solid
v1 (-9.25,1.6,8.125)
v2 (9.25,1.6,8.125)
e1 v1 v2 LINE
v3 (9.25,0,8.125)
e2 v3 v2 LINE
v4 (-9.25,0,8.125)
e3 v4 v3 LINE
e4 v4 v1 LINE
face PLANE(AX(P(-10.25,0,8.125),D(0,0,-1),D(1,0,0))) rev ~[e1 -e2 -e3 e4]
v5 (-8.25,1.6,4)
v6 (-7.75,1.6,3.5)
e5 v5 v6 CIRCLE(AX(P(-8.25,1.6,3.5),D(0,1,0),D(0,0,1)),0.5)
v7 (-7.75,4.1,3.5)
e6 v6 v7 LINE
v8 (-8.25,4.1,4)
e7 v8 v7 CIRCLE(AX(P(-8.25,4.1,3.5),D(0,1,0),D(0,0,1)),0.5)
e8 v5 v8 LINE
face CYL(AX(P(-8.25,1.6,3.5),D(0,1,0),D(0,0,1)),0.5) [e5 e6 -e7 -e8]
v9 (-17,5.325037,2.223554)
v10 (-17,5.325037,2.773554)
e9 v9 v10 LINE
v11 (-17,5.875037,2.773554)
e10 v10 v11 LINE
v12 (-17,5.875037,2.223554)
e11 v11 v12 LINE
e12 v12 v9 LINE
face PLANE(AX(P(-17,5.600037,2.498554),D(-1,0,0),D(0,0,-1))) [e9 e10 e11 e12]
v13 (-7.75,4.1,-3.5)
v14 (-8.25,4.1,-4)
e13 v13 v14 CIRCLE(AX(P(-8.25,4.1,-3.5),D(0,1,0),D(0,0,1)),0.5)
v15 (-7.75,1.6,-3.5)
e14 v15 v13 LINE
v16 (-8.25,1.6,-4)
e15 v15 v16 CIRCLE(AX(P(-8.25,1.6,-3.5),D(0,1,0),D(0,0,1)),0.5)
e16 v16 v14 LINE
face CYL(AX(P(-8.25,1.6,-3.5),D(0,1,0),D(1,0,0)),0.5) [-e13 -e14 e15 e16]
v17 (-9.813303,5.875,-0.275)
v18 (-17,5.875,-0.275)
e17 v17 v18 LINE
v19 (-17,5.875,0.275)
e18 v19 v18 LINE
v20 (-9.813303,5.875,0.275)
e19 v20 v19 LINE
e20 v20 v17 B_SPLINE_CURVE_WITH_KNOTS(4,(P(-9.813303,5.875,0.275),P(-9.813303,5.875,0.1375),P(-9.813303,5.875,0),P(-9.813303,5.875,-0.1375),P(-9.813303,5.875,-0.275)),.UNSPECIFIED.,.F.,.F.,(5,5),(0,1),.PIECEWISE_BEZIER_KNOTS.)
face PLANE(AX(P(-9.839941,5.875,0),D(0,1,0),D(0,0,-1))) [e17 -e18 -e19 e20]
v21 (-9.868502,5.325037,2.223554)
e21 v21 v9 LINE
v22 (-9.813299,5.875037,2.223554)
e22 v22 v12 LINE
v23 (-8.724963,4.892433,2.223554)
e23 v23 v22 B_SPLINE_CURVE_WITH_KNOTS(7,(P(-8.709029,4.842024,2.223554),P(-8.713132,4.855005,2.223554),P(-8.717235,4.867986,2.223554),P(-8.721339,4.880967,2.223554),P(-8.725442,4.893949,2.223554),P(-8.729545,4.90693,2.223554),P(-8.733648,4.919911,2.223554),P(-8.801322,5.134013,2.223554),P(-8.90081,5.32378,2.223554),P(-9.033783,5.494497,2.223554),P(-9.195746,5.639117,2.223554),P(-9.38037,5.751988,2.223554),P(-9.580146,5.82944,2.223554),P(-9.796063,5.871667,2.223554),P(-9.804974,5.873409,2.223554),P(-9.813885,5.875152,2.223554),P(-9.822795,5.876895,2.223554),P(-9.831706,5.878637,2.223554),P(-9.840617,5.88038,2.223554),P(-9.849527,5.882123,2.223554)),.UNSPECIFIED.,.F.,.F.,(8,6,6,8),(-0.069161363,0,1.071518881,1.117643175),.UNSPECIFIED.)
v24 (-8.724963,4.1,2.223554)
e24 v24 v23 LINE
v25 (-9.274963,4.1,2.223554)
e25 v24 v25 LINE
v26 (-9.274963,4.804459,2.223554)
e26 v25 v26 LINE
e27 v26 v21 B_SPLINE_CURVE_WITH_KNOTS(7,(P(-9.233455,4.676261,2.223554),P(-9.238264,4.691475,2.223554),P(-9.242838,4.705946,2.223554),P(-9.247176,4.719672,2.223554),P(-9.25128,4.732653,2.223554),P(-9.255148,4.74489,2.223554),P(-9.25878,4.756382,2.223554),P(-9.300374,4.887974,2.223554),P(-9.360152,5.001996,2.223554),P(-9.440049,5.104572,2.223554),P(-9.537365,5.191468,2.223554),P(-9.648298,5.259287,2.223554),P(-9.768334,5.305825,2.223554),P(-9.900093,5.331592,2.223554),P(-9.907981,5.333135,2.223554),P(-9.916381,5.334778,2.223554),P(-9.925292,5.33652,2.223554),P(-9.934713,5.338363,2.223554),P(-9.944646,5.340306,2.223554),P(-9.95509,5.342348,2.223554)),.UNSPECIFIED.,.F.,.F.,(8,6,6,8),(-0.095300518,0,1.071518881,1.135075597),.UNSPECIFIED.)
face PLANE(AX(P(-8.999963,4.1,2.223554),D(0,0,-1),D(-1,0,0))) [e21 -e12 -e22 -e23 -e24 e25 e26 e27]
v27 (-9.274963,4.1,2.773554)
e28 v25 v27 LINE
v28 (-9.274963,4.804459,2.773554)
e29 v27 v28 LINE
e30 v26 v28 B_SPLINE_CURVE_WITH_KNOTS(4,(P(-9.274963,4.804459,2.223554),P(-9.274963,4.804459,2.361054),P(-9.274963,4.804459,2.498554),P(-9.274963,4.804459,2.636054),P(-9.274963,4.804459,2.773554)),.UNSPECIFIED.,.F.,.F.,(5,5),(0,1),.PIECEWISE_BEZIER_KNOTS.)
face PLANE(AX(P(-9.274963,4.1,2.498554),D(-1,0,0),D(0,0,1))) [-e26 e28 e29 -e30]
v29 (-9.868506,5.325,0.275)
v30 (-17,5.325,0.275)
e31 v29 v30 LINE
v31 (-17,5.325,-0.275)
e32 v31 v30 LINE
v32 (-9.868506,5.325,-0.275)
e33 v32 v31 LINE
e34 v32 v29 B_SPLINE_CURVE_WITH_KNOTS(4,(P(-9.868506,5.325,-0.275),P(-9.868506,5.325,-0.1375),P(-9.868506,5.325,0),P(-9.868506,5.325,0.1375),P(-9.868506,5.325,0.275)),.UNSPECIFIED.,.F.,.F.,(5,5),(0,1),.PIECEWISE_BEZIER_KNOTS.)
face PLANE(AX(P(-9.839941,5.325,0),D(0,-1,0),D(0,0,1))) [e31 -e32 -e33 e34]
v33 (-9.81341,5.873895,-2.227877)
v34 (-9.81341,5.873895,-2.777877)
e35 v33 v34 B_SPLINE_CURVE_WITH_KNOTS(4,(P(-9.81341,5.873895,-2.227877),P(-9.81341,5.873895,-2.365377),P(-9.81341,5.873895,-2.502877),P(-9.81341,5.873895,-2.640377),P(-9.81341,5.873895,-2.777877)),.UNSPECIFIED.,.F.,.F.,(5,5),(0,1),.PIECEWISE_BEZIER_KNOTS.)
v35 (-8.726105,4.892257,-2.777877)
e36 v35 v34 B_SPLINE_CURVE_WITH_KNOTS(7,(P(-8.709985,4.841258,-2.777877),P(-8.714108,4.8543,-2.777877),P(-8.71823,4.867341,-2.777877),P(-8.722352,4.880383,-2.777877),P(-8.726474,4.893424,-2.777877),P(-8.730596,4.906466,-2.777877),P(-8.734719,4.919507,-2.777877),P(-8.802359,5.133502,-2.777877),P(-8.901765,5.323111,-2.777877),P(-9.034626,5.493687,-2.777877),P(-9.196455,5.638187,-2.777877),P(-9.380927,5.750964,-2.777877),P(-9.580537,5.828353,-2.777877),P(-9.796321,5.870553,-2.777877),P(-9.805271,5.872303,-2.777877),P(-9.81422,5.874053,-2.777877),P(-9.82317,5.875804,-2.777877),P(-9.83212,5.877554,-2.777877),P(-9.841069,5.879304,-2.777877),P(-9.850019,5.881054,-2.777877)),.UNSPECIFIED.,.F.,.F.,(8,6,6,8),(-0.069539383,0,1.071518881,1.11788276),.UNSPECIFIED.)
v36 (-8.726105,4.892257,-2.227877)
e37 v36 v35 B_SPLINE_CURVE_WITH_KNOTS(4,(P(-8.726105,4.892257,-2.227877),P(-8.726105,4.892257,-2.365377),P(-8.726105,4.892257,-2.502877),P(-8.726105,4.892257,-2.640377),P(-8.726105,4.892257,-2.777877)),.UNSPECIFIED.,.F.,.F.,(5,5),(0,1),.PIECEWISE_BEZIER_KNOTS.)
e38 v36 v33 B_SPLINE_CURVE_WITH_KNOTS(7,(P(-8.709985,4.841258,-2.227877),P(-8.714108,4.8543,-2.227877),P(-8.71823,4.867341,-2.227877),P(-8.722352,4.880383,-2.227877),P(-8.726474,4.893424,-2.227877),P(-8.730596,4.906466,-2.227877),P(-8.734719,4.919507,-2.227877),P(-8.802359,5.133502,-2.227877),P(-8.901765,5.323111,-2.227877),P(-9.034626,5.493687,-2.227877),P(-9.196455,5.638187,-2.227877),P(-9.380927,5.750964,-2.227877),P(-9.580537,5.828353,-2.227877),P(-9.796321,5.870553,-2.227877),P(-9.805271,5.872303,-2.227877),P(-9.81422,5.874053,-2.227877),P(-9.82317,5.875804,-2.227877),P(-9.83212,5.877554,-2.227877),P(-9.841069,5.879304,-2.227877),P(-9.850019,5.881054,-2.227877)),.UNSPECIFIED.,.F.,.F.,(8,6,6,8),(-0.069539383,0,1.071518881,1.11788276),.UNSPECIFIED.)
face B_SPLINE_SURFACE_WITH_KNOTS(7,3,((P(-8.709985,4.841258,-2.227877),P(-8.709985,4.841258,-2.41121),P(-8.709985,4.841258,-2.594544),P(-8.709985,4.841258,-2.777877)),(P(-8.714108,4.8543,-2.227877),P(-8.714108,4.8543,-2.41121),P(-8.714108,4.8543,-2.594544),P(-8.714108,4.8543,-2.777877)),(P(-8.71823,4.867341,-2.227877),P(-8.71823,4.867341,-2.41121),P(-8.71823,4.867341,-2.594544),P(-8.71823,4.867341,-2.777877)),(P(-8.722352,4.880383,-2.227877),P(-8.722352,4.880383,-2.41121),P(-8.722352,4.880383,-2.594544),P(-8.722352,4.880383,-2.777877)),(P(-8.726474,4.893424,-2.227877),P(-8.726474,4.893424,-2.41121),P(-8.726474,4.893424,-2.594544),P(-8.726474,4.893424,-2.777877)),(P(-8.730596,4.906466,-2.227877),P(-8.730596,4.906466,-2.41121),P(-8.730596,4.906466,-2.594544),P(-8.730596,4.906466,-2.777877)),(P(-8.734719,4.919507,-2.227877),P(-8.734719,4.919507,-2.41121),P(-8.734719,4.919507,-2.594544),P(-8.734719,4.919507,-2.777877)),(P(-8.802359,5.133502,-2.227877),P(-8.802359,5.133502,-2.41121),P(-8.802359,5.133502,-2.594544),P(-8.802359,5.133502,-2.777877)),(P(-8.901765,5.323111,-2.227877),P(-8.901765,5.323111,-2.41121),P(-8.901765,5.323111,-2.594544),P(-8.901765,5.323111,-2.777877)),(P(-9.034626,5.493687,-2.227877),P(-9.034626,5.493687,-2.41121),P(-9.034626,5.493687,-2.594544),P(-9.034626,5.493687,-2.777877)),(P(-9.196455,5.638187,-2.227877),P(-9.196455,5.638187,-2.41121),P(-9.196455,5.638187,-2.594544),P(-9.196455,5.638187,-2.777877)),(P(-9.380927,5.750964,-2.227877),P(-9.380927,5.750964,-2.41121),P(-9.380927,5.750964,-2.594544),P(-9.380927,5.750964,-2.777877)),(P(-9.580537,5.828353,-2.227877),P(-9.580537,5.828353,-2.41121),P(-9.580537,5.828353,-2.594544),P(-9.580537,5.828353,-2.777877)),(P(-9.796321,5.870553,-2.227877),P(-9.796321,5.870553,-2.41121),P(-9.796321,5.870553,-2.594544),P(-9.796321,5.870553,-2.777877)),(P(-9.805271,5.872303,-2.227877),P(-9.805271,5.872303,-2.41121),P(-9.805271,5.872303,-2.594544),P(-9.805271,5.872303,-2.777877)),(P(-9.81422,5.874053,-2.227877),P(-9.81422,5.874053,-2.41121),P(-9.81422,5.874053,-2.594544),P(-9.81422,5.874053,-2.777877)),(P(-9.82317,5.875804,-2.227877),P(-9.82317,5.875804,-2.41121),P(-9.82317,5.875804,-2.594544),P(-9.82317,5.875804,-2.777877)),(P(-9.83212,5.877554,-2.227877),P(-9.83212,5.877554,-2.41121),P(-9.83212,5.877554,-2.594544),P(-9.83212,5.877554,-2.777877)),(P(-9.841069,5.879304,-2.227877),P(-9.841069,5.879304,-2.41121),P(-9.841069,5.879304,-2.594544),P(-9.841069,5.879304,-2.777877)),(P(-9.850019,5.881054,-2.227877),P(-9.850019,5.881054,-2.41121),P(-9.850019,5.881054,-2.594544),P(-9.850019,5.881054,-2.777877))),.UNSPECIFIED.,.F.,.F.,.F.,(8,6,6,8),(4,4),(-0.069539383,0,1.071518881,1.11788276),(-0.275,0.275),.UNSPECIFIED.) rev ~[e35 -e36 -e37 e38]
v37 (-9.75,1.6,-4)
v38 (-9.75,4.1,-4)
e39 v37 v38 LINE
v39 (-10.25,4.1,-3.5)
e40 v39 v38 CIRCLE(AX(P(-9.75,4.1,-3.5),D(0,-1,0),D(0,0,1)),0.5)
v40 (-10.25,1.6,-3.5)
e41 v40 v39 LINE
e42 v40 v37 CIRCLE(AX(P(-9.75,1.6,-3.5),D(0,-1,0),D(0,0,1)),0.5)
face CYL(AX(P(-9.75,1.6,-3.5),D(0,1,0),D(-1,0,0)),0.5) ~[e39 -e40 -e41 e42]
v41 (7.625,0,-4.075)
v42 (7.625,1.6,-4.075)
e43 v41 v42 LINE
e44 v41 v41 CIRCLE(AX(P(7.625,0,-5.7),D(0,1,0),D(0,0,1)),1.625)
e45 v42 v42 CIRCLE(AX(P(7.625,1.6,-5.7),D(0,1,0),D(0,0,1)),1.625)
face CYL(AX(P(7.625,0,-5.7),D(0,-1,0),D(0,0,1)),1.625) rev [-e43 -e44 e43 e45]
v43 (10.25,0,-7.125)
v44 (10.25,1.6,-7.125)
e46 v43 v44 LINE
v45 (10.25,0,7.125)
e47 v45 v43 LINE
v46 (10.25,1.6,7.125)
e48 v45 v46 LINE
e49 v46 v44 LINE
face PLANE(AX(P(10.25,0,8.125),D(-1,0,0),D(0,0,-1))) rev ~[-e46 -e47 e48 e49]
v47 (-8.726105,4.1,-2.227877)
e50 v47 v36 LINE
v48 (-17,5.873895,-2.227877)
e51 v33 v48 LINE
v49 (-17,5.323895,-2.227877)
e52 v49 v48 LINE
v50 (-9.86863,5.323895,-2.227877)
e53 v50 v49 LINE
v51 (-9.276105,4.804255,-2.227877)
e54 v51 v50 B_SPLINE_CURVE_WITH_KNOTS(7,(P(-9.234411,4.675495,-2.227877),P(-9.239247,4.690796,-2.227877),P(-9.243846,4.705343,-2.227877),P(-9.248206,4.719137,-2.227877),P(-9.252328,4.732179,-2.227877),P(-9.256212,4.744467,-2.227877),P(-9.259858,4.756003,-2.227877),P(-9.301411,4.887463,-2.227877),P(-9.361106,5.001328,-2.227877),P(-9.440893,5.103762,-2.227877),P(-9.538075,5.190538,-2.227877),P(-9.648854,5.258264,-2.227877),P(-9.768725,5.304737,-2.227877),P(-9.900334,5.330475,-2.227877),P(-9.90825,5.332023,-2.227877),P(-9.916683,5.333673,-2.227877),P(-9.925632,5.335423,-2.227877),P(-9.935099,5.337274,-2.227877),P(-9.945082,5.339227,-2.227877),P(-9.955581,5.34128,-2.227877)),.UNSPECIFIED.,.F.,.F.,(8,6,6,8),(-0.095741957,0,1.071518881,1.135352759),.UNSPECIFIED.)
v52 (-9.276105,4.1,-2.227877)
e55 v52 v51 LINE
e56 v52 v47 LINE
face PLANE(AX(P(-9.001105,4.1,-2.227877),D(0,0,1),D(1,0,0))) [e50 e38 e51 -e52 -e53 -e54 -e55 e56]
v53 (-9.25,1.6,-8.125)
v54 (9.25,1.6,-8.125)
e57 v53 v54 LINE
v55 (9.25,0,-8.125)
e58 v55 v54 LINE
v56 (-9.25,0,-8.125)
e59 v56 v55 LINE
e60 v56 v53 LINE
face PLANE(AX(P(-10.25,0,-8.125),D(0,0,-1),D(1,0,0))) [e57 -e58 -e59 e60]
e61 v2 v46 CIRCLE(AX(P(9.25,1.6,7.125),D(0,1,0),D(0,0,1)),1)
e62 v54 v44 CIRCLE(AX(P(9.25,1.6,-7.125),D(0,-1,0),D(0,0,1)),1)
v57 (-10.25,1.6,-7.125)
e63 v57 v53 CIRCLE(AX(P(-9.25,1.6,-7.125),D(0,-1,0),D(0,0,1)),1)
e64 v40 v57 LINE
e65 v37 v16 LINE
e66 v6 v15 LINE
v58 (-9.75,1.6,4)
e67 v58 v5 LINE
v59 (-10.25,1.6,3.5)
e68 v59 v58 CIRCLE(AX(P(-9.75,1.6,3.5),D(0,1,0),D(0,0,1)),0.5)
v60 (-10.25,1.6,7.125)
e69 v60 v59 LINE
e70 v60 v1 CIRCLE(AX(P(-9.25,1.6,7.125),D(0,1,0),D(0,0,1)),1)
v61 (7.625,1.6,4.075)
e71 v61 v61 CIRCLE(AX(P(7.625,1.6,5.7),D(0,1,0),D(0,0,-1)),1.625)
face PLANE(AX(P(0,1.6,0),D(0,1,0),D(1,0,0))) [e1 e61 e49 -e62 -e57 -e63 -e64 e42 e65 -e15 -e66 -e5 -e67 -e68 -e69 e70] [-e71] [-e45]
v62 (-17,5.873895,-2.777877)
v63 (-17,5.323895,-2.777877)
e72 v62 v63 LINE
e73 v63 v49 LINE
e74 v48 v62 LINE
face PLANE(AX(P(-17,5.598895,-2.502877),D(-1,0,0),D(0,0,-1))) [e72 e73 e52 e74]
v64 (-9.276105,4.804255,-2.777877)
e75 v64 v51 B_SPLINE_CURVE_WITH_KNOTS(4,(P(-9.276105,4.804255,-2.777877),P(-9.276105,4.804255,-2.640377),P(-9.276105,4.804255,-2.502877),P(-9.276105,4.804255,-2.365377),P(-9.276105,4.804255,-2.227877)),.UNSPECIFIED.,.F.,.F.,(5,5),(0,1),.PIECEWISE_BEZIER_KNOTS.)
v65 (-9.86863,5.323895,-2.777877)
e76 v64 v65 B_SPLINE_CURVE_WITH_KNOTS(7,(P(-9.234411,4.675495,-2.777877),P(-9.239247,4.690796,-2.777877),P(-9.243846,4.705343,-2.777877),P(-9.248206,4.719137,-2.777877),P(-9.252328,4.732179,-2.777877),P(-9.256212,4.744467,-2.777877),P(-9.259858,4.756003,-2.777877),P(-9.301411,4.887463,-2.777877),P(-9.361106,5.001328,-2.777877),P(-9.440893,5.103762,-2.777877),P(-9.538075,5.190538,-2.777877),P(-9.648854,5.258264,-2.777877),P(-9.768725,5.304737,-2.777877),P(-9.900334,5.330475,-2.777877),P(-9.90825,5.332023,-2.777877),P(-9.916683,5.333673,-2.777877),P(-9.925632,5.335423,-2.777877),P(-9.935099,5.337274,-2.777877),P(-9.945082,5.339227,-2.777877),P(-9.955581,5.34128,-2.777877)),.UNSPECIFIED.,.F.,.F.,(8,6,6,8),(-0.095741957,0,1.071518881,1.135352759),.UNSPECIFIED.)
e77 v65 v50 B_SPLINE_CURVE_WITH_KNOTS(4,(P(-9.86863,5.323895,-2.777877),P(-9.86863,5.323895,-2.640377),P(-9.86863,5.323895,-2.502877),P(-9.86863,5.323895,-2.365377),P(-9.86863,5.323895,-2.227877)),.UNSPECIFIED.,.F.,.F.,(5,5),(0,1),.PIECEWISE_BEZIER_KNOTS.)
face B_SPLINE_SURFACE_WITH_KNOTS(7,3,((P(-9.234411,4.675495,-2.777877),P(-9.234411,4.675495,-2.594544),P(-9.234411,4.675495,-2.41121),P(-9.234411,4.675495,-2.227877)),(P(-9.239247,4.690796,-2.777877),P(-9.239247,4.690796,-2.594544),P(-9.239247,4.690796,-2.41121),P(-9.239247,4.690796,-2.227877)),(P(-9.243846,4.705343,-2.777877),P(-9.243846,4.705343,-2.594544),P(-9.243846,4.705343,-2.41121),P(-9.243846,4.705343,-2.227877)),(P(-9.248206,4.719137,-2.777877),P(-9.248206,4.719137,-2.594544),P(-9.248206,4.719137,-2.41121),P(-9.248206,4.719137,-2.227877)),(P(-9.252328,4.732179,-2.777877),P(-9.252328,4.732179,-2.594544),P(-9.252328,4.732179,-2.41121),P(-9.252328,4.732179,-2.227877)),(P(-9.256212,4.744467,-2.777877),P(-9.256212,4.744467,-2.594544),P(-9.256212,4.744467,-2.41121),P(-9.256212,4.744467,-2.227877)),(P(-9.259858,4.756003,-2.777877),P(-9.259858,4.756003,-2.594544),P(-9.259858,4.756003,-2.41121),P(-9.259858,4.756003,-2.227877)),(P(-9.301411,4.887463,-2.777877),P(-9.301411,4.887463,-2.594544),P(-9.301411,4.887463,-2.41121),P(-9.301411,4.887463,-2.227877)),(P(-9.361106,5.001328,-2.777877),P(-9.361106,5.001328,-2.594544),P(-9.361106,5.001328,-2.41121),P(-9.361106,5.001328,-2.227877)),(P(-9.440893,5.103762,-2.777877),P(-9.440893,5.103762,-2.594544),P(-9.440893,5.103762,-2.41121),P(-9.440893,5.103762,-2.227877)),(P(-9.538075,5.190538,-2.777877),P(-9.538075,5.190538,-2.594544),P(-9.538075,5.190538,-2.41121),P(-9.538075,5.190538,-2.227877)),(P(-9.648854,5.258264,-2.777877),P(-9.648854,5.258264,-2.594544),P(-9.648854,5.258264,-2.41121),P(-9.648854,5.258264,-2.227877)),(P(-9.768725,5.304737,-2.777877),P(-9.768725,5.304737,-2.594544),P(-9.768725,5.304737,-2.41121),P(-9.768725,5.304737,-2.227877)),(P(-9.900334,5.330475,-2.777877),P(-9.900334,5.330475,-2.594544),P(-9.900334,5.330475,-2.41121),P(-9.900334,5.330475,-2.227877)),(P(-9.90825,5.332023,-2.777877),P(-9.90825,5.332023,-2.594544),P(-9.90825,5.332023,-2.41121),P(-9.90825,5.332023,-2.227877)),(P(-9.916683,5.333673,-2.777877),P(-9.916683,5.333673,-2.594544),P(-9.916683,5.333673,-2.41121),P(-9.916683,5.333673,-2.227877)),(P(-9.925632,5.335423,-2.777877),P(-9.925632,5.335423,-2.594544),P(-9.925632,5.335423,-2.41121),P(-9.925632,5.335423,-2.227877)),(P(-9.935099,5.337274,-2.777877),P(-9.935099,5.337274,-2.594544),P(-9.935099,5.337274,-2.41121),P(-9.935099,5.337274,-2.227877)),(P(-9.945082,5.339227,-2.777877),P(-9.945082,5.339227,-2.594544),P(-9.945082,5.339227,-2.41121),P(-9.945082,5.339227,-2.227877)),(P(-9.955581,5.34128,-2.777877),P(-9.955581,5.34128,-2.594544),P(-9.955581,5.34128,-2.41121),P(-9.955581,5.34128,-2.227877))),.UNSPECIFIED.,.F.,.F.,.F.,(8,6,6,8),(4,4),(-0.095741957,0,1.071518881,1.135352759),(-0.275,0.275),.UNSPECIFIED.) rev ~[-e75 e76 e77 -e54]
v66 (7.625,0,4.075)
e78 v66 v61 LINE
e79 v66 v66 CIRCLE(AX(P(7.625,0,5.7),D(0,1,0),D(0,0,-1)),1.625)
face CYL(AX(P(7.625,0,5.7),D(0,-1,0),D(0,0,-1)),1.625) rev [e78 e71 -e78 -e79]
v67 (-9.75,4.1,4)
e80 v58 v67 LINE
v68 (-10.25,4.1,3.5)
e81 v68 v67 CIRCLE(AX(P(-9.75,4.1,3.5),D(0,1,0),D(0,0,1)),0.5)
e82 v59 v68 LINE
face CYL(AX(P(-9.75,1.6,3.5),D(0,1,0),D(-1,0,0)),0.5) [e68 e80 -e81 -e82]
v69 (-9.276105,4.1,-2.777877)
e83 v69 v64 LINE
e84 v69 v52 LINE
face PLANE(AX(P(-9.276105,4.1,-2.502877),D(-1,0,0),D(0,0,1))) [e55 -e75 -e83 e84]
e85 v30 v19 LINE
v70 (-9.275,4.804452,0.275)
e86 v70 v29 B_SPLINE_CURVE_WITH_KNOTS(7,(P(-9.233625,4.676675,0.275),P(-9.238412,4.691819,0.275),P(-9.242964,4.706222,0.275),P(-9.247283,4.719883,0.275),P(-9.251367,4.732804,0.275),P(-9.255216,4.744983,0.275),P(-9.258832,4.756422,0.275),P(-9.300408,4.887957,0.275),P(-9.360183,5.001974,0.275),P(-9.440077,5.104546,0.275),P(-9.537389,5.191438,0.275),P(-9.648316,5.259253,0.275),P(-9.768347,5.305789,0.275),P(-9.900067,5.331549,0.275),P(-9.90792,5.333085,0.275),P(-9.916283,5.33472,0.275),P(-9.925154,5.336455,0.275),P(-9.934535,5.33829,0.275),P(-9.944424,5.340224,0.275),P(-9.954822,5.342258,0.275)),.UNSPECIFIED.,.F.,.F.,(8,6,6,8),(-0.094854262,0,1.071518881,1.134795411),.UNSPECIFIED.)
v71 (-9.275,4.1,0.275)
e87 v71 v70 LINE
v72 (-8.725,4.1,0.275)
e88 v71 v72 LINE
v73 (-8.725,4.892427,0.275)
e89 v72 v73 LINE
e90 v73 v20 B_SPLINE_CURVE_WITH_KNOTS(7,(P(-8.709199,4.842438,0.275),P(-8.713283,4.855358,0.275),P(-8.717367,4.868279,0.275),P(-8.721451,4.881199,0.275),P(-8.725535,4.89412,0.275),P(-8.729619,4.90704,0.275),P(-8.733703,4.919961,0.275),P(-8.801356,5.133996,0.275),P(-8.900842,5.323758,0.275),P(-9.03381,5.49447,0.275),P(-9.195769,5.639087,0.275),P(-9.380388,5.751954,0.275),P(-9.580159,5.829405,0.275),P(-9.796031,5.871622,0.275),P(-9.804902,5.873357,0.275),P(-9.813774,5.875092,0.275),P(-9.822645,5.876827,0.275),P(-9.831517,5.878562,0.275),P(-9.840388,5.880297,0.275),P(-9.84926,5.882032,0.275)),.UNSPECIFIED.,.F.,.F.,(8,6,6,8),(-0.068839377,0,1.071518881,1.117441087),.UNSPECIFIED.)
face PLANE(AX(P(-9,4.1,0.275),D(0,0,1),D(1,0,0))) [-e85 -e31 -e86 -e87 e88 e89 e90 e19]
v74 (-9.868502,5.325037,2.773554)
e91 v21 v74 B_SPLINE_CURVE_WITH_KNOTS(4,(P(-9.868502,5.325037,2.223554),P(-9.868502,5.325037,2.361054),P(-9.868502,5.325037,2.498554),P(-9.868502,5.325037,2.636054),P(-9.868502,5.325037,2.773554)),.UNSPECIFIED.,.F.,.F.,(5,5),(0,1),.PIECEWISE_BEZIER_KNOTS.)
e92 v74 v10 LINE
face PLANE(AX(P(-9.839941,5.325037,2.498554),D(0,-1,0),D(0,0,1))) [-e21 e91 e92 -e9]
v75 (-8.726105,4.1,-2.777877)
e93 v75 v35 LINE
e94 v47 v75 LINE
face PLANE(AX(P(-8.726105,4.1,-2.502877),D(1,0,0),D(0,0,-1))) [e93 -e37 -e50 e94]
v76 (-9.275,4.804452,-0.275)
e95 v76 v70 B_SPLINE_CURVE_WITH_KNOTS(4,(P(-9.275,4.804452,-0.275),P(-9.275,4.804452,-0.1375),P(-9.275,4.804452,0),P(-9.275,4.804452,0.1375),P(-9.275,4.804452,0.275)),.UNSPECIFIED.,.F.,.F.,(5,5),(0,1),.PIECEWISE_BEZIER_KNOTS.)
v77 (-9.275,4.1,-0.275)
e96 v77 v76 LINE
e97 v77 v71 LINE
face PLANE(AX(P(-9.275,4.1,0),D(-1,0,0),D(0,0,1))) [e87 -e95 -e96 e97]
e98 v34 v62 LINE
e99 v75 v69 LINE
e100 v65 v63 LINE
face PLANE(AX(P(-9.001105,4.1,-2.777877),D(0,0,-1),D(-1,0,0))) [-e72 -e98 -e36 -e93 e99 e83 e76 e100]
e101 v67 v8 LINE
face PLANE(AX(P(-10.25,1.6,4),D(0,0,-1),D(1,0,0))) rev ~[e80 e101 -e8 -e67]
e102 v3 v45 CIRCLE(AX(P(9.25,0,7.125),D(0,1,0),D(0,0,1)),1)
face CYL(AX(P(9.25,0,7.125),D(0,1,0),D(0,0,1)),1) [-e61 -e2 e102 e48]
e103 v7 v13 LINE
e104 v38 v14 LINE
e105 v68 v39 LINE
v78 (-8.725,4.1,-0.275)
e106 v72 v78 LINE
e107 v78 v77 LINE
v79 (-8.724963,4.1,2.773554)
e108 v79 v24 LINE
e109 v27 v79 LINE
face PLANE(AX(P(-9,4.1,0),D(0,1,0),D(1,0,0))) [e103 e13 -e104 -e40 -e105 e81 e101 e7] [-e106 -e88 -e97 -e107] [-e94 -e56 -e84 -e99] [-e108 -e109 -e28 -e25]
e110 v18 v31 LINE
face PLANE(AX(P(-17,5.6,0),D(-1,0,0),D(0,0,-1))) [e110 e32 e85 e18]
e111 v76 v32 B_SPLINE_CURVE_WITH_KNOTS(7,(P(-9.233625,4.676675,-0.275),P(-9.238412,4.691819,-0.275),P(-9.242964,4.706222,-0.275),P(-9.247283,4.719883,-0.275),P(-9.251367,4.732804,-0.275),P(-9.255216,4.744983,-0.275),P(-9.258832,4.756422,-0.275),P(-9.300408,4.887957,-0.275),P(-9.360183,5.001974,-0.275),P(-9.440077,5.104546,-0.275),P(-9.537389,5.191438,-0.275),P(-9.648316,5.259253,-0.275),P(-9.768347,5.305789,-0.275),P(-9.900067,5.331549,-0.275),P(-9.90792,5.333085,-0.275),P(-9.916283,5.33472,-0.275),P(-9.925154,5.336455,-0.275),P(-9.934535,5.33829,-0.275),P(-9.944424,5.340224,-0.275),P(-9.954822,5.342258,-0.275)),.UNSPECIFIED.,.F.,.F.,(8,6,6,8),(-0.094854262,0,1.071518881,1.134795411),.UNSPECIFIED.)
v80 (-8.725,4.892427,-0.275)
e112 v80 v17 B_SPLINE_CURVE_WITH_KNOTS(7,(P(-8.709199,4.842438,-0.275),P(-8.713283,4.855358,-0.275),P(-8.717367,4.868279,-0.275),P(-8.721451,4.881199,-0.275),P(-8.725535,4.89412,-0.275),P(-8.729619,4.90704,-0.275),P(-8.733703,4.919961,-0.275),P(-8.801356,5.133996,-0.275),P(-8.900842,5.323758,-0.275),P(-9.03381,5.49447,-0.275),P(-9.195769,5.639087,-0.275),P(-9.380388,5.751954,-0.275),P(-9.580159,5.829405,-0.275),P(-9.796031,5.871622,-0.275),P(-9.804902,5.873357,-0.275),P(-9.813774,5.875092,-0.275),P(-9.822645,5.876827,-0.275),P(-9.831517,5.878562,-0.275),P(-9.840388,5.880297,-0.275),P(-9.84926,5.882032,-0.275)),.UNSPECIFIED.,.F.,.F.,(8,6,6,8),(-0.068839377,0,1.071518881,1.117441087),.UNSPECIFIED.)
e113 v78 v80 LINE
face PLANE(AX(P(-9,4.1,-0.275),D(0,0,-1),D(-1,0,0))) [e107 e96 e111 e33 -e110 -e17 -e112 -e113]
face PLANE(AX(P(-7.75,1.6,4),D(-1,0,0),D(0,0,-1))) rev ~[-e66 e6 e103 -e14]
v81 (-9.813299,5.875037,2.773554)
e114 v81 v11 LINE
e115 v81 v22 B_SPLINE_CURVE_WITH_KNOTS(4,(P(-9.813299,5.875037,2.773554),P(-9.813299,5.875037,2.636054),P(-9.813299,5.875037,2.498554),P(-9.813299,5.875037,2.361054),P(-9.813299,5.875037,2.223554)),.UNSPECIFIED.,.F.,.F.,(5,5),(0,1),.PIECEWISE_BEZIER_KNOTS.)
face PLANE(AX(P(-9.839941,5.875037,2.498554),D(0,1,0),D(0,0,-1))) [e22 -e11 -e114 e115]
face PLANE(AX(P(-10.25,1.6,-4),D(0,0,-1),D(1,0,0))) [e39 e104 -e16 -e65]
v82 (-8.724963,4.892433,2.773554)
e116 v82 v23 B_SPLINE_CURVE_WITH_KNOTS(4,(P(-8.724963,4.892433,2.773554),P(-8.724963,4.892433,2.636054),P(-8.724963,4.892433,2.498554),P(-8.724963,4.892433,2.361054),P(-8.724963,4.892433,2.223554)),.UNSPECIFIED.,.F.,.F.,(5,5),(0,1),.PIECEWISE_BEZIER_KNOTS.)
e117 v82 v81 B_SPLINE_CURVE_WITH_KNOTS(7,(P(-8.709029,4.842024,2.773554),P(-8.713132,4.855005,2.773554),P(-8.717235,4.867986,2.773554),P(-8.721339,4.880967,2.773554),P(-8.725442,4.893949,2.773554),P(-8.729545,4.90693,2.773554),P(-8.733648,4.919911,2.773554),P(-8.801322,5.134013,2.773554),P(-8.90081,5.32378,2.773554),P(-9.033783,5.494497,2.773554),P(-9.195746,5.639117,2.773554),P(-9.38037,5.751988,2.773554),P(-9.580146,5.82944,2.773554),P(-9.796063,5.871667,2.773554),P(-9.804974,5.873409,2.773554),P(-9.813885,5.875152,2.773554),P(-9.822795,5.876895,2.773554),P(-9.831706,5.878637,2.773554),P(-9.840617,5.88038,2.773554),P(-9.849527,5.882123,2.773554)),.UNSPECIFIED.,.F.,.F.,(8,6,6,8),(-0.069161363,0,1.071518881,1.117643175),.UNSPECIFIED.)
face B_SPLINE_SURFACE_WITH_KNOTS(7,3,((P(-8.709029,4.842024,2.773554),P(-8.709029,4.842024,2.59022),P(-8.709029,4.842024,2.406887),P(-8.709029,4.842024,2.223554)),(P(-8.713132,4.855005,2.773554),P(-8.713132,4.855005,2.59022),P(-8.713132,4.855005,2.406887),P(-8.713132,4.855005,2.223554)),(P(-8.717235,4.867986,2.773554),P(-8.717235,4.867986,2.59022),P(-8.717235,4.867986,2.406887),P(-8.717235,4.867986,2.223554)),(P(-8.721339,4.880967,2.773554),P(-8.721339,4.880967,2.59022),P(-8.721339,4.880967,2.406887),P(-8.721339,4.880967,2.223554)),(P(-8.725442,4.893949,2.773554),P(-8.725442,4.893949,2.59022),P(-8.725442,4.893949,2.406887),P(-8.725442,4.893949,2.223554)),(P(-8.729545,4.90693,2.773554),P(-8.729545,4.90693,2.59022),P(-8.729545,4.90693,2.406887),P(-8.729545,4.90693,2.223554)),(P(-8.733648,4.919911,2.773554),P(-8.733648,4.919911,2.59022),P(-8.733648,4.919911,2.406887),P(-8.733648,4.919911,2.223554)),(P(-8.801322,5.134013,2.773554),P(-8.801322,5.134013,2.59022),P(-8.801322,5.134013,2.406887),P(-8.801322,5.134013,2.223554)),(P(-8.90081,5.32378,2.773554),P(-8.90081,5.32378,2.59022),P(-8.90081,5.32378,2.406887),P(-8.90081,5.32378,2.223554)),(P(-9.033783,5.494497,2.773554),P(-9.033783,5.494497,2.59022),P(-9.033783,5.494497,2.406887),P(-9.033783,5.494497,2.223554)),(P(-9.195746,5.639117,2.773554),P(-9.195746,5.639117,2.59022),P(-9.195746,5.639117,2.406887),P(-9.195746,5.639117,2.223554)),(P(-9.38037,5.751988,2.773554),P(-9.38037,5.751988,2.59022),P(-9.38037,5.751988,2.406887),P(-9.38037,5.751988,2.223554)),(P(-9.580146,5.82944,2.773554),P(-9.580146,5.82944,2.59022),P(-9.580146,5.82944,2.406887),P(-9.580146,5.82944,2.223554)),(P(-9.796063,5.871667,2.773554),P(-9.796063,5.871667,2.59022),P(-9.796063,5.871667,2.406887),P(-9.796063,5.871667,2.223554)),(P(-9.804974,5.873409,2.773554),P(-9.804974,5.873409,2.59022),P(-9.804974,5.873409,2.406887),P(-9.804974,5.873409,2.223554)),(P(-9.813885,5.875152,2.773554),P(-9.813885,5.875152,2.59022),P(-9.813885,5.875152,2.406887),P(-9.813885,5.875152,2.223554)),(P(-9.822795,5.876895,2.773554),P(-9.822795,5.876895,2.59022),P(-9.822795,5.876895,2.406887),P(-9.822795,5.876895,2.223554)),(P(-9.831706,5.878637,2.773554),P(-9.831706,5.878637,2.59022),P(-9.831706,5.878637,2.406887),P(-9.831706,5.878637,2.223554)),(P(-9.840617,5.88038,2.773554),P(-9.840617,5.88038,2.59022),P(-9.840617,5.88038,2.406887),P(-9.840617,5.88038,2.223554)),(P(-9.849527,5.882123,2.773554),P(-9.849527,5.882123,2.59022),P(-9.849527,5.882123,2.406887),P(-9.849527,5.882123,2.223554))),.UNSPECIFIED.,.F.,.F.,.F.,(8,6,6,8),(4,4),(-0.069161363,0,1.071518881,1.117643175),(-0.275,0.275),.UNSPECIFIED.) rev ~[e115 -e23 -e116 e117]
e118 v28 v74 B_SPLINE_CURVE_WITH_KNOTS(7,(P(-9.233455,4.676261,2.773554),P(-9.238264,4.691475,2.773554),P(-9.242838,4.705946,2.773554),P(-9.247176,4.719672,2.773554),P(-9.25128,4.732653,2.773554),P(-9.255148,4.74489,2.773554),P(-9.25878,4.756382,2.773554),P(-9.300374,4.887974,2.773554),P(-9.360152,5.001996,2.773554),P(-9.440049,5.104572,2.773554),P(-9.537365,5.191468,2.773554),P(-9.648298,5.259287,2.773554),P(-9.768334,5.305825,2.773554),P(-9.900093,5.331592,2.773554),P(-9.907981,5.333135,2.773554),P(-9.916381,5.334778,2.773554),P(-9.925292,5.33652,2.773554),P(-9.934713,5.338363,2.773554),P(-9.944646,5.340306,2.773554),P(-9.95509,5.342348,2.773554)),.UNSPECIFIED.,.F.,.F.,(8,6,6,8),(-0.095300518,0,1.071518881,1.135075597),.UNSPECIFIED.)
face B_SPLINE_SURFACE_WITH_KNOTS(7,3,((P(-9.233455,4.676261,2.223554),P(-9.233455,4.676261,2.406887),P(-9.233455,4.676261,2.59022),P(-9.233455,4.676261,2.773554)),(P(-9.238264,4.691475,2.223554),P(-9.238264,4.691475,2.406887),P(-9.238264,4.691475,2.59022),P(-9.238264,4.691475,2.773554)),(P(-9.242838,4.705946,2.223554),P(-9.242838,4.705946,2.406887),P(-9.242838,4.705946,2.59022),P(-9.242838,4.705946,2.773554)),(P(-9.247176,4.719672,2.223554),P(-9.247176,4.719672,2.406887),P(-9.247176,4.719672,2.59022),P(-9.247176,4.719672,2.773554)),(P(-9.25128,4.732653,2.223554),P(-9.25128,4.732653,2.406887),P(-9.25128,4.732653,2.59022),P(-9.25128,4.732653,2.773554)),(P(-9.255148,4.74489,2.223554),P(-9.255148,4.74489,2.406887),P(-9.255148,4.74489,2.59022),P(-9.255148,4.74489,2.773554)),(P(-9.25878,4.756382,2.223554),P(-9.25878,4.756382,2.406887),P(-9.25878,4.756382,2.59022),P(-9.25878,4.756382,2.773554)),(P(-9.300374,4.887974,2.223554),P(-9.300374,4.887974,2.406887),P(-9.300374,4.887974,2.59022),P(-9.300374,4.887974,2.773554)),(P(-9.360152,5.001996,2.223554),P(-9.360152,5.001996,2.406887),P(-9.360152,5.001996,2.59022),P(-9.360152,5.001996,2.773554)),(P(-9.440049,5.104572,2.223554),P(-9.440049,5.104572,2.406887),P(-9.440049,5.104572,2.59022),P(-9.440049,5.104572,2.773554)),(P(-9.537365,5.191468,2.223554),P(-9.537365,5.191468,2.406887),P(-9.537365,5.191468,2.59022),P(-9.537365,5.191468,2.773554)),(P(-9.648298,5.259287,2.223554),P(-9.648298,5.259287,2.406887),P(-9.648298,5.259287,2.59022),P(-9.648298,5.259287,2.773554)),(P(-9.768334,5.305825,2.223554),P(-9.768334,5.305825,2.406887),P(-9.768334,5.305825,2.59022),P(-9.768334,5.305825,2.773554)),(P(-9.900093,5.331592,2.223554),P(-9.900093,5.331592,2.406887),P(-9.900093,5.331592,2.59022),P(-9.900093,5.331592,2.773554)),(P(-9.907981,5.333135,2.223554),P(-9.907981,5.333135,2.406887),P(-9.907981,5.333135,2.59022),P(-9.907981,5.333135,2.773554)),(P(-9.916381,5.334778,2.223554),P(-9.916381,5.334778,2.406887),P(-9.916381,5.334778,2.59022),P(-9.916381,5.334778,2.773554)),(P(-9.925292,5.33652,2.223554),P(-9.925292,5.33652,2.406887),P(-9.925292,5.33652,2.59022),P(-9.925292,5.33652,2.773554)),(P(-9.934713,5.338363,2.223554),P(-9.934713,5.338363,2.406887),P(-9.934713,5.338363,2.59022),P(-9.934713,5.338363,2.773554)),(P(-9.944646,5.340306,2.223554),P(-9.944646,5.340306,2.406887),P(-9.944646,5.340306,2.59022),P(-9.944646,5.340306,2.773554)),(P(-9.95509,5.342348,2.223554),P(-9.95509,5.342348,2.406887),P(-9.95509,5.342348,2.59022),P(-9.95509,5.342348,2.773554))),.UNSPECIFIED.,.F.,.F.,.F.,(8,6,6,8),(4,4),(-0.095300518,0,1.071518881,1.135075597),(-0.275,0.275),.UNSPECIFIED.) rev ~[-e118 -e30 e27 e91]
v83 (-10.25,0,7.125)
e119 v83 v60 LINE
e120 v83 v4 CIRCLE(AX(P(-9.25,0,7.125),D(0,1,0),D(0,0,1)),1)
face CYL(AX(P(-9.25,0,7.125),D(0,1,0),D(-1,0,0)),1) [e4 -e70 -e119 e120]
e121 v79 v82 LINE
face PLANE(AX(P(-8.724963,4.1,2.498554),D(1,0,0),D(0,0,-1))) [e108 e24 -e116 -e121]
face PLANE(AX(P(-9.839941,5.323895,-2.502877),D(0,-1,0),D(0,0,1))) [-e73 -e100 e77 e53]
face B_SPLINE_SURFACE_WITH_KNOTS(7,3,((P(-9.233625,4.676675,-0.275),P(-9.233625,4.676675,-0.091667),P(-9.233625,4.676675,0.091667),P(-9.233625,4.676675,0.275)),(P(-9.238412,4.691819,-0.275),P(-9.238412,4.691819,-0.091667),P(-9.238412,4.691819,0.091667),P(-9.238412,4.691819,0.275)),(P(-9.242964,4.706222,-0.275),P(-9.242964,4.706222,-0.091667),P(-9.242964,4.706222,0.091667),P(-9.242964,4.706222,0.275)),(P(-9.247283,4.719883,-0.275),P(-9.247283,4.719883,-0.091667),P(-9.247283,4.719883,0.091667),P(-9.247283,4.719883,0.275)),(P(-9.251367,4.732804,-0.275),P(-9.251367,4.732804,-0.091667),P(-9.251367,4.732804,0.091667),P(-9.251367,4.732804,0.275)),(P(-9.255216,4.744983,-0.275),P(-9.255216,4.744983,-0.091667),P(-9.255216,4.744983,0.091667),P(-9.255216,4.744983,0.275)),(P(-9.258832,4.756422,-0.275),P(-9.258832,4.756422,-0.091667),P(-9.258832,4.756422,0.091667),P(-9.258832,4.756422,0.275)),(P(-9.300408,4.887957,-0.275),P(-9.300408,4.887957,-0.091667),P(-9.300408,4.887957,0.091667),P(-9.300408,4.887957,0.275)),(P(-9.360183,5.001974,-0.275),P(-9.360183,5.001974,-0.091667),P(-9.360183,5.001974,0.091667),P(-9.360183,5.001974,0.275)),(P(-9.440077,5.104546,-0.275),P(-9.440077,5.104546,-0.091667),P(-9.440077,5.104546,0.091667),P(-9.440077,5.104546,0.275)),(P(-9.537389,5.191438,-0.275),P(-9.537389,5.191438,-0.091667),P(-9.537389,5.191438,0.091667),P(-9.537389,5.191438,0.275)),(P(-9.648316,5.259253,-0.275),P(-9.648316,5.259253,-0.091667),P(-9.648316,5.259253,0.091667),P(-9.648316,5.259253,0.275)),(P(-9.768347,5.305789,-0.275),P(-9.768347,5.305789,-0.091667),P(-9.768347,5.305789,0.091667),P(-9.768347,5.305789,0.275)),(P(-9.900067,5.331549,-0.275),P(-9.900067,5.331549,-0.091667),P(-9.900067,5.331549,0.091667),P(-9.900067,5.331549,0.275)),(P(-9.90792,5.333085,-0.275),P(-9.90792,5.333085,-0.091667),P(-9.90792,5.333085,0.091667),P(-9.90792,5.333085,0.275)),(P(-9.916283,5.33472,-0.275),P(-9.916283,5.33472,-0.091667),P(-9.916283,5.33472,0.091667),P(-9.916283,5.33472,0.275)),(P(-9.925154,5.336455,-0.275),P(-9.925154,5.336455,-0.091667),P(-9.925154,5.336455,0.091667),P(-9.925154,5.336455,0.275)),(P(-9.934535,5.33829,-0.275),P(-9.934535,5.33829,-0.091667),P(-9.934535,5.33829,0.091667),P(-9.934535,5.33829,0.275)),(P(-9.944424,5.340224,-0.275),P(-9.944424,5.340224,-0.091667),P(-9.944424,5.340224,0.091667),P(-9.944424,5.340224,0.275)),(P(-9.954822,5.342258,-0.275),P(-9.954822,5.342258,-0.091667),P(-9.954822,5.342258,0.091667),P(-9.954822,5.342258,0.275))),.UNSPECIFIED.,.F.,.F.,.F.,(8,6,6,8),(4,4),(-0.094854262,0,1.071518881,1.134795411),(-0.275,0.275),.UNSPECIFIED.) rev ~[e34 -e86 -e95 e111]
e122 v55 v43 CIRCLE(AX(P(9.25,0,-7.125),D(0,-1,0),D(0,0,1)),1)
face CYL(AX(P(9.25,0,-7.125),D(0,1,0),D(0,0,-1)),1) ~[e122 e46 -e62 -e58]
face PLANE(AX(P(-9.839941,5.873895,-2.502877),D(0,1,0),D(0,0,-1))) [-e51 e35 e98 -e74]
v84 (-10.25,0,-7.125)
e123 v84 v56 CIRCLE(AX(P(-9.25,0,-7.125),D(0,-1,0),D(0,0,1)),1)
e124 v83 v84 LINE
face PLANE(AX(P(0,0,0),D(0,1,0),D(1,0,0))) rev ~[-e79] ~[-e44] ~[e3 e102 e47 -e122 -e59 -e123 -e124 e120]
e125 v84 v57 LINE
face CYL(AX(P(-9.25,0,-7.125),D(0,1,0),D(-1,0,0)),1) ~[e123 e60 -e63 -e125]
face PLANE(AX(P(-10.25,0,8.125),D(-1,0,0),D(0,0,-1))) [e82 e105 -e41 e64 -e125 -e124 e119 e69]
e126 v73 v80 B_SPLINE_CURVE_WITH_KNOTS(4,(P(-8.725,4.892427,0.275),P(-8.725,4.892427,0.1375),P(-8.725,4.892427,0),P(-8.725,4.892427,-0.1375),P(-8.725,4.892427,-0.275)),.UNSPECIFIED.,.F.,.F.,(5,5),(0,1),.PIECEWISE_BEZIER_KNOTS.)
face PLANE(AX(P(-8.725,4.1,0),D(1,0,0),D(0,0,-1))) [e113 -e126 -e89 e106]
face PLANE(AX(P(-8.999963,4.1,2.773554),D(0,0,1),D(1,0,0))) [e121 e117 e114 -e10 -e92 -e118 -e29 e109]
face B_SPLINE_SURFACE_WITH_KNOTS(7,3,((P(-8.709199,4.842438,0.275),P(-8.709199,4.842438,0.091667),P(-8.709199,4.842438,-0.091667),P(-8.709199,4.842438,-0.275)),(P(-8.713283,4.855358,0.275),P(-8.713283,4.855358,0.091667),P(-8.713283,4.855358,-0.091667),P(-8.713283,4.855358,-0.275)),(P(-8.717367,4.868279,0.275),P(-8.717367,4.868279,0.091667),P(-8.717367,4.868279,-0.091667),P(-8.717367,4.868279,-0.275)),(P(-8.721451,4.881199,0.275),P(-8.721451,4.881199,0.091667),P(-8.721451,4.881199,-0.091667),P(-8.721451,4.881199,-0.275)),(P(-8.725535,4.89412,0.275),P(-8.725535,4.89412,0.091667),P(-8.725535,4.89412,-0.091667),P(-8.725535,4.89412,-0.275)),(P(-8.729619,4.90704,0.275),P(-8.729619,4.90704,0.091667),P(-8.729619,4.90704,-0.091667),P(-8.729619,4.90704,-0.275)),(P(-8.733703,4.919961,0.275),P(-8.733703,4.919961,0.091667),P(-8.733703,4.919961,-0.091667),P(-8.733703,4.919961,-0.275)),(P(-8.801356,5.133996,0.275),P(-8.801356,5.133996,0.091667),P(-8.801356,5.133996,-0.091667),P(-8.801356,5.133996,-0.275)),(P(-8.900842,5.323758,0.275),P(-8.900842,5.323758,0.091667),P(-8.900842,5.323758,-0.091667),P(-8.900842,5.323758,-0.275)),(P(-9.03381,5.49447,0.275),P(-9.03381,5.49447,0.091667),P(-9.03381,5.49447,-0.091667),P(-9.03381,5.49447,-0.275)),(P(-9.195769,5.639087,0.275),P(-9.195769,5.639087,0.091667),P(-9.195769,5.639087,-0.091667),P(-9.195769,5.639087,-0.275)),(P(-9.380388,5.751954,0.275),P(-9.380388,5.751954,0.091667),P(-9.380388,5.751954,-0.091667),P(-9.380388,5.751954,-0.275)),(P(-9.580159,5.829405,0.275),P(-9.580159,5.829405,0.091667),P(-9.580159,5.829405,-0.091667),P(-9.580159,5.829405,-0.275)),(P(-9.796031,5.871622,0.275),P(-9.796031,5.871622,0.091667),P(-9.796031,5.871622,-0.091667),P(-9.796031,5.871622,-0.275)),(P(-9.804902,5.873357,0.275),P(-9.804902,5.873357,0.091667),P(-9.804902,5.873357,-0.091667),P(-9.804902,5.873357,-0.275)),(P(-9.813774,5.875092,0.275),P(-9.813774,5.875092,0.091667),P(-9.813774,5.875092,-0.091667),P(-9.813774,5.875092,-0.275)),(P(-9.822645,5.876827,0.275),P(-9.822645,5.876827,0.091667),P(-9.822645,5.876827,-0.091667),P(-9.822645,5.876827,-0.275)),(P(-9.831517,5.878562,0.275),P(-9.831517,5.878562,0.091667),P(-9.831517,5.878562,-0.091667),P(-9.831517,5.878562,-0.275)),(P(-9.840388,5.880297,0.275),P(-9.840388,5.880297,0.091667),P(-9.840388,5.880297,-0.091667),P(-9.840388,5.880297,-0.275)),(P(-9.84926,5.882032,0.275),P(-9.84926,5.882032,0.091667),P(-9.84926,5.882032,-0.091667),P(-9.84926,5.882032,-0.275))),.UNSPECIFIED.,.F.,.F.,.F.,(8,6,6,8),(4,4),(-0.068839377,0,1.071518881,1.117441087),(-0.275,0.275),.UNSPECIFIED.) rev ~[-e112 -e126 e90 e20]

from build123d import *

# Parameters (mm, degrees)
SKETCH1_W           = 20.5
SKETCH1_H           = 16.25
SKETCH1_R           = 1.625
BOSS_EXTRUDE1_DEPTH = 1.6
FILLET1_R           = 1
SKETCH2_W           = 2.5
SKETCH2_H           = 8
BOSS_EXTRUDE2_DEPTH = 2.5
FILLET2_R           = 0.5
SKETCH8_W           = 0.55
SKETCH8_H           = 0.55
SKETCH9_W           = 0.55
SKETCH9_H           = 0.55
SKETCH4_W           = 0.55
SKETCH4_H           = 0.55


with BuildPart() as part:
    # Sketch1 → Boss-Extrude1 (new body)
    with BuildSketch(Plane(origin=(0, 0, 0), x_dir=(1, 0, 0), z_dir=(0, 1, 0))):
        Rectangle(SKETCH1_W, SKETCH1_H)
        with Locations(Location((7.625, 5.7, 0), (0, 0, 270))):
            Circle(SKETCH1_R, mode=Mode.SUBTRACT)
        with Locations(Location((7.625, -5.7, 0), (0, 0, 90))):
            Circle(SKETCH1_R, mode=Mode.SUBTRACT)
    extrude(amount=BOSS_EXTRUDE1_DEPTH)

    # Fillet1
    fillet1_edges = [part.edges().sort_by_distance(p)[0] for p in [
        (10.25, 0.8, 8.125),
        (-10.25, 0.8, 8.125),
        (-10.25, 0.8, -8.125),
        (10.25, 0.8, -8.125),
    ]]
    fillet(fillet1_edges, radius=FILLET1_R)

    # Sketch2 → Boss-Extrude2 (add)
    with BuildSketch(Plane(origin=(0, 1.6, 0), x_dir=(1, 0, 0), z_dir=(0, 1, 0))):
        with Locations((-9, 0)):
            Rectangle(SKETCH2_W, SKETCH2_H)
    extrude(amount=BOSS_EXTRUDE2_DEPTH)

    # Fillet2
    fillet2_edges = [part.edges().sort_by_distance(p)[0] for p in [
        (-7.75, 2.85, 4),
        (-7.75, 2.85, -4),
        (-10.25, 2.85, -4),
        (-10.25, 2.85, 4),
    ]]
    fillet(fillet2_edges, radius=FILLET2_R)

    # Sweep2: sweep along a path in Sketch5
    with BuildLine(Plane.XY.offset(-2.5)) as sweep2_path:
        Line((-9, 4.1), (-9, 4.85))
        ThreePointArc((-9, 4.85), (-9.317041617, 5.34027213), (-9.839940826, 5.6))
        Line((-9.839940826, 5.6), (-17, 5.6))
    # Sketch8 → Sweep2 (sweep)
    with BuildSketch(Plane(origin=(0, 4.1, 0), x_dir=(1, 0, 0), z_dir=(0, 1, 0))):
        with Locations((-9.001105099, 2.502876889)):
            Rectangle(SKETCH8_W, SKETCH8_H)
    sweep(path=sweep2_path.line, transition=Transition.RIGHT)

    # Sweep3: sweep along a path in Sketch6
    with BuildLine(Plane.XY.offset(2.5)) as sweep3_path:
        Line((-9, 4.1), (-9, 4.85))
        ThreePointArc((-9, 4.85), (-9.317041617, 5.34027213), (-9.839940826, 5.6))
        Line((-9.839940826, 5.6), (-17, 5.6))
    # Sketch9 → Sweep3 (sweep)
    with BuildSketch(Plane(origin=(0, 4.1, 0), x_dir=(1, 0, 0), z_dir=(0, 1, 0))):
        with Locations((-8.999962547, -2.498553748)):
            Rectangle(SKETCH9_W, SKETCH9_H)
    sweep(path=sweep3_path.line, transition=Transition.RIGHT)

    # Sweep4: sweep along a path in Sketch3
    with BuildLine(Plane.XY) as sweep4_path:
        Line((-9, 4.1), (-9, 4.85))
        ThreePointArc((-9, 4.85), (-9.317041617, 5.34027213), (-9.839940826, 5.6))
        Line((-9.839940826, 5.6), (-17, 5.6))
    # Sketch4 → Sweep4 (sweep)
    with BuildSketch(Plane(origin=(0, 4.1, 0), x_dir=(1, 0, 0), z_dir=(0, 1, 0))):
        with Locations((-9, 0)):
            Rectangle(SKETCH4_W, SKETCH4_H)
    sweep(path=sweep4_path.line, transition=Transition.RIGHT)


solid = part.part
